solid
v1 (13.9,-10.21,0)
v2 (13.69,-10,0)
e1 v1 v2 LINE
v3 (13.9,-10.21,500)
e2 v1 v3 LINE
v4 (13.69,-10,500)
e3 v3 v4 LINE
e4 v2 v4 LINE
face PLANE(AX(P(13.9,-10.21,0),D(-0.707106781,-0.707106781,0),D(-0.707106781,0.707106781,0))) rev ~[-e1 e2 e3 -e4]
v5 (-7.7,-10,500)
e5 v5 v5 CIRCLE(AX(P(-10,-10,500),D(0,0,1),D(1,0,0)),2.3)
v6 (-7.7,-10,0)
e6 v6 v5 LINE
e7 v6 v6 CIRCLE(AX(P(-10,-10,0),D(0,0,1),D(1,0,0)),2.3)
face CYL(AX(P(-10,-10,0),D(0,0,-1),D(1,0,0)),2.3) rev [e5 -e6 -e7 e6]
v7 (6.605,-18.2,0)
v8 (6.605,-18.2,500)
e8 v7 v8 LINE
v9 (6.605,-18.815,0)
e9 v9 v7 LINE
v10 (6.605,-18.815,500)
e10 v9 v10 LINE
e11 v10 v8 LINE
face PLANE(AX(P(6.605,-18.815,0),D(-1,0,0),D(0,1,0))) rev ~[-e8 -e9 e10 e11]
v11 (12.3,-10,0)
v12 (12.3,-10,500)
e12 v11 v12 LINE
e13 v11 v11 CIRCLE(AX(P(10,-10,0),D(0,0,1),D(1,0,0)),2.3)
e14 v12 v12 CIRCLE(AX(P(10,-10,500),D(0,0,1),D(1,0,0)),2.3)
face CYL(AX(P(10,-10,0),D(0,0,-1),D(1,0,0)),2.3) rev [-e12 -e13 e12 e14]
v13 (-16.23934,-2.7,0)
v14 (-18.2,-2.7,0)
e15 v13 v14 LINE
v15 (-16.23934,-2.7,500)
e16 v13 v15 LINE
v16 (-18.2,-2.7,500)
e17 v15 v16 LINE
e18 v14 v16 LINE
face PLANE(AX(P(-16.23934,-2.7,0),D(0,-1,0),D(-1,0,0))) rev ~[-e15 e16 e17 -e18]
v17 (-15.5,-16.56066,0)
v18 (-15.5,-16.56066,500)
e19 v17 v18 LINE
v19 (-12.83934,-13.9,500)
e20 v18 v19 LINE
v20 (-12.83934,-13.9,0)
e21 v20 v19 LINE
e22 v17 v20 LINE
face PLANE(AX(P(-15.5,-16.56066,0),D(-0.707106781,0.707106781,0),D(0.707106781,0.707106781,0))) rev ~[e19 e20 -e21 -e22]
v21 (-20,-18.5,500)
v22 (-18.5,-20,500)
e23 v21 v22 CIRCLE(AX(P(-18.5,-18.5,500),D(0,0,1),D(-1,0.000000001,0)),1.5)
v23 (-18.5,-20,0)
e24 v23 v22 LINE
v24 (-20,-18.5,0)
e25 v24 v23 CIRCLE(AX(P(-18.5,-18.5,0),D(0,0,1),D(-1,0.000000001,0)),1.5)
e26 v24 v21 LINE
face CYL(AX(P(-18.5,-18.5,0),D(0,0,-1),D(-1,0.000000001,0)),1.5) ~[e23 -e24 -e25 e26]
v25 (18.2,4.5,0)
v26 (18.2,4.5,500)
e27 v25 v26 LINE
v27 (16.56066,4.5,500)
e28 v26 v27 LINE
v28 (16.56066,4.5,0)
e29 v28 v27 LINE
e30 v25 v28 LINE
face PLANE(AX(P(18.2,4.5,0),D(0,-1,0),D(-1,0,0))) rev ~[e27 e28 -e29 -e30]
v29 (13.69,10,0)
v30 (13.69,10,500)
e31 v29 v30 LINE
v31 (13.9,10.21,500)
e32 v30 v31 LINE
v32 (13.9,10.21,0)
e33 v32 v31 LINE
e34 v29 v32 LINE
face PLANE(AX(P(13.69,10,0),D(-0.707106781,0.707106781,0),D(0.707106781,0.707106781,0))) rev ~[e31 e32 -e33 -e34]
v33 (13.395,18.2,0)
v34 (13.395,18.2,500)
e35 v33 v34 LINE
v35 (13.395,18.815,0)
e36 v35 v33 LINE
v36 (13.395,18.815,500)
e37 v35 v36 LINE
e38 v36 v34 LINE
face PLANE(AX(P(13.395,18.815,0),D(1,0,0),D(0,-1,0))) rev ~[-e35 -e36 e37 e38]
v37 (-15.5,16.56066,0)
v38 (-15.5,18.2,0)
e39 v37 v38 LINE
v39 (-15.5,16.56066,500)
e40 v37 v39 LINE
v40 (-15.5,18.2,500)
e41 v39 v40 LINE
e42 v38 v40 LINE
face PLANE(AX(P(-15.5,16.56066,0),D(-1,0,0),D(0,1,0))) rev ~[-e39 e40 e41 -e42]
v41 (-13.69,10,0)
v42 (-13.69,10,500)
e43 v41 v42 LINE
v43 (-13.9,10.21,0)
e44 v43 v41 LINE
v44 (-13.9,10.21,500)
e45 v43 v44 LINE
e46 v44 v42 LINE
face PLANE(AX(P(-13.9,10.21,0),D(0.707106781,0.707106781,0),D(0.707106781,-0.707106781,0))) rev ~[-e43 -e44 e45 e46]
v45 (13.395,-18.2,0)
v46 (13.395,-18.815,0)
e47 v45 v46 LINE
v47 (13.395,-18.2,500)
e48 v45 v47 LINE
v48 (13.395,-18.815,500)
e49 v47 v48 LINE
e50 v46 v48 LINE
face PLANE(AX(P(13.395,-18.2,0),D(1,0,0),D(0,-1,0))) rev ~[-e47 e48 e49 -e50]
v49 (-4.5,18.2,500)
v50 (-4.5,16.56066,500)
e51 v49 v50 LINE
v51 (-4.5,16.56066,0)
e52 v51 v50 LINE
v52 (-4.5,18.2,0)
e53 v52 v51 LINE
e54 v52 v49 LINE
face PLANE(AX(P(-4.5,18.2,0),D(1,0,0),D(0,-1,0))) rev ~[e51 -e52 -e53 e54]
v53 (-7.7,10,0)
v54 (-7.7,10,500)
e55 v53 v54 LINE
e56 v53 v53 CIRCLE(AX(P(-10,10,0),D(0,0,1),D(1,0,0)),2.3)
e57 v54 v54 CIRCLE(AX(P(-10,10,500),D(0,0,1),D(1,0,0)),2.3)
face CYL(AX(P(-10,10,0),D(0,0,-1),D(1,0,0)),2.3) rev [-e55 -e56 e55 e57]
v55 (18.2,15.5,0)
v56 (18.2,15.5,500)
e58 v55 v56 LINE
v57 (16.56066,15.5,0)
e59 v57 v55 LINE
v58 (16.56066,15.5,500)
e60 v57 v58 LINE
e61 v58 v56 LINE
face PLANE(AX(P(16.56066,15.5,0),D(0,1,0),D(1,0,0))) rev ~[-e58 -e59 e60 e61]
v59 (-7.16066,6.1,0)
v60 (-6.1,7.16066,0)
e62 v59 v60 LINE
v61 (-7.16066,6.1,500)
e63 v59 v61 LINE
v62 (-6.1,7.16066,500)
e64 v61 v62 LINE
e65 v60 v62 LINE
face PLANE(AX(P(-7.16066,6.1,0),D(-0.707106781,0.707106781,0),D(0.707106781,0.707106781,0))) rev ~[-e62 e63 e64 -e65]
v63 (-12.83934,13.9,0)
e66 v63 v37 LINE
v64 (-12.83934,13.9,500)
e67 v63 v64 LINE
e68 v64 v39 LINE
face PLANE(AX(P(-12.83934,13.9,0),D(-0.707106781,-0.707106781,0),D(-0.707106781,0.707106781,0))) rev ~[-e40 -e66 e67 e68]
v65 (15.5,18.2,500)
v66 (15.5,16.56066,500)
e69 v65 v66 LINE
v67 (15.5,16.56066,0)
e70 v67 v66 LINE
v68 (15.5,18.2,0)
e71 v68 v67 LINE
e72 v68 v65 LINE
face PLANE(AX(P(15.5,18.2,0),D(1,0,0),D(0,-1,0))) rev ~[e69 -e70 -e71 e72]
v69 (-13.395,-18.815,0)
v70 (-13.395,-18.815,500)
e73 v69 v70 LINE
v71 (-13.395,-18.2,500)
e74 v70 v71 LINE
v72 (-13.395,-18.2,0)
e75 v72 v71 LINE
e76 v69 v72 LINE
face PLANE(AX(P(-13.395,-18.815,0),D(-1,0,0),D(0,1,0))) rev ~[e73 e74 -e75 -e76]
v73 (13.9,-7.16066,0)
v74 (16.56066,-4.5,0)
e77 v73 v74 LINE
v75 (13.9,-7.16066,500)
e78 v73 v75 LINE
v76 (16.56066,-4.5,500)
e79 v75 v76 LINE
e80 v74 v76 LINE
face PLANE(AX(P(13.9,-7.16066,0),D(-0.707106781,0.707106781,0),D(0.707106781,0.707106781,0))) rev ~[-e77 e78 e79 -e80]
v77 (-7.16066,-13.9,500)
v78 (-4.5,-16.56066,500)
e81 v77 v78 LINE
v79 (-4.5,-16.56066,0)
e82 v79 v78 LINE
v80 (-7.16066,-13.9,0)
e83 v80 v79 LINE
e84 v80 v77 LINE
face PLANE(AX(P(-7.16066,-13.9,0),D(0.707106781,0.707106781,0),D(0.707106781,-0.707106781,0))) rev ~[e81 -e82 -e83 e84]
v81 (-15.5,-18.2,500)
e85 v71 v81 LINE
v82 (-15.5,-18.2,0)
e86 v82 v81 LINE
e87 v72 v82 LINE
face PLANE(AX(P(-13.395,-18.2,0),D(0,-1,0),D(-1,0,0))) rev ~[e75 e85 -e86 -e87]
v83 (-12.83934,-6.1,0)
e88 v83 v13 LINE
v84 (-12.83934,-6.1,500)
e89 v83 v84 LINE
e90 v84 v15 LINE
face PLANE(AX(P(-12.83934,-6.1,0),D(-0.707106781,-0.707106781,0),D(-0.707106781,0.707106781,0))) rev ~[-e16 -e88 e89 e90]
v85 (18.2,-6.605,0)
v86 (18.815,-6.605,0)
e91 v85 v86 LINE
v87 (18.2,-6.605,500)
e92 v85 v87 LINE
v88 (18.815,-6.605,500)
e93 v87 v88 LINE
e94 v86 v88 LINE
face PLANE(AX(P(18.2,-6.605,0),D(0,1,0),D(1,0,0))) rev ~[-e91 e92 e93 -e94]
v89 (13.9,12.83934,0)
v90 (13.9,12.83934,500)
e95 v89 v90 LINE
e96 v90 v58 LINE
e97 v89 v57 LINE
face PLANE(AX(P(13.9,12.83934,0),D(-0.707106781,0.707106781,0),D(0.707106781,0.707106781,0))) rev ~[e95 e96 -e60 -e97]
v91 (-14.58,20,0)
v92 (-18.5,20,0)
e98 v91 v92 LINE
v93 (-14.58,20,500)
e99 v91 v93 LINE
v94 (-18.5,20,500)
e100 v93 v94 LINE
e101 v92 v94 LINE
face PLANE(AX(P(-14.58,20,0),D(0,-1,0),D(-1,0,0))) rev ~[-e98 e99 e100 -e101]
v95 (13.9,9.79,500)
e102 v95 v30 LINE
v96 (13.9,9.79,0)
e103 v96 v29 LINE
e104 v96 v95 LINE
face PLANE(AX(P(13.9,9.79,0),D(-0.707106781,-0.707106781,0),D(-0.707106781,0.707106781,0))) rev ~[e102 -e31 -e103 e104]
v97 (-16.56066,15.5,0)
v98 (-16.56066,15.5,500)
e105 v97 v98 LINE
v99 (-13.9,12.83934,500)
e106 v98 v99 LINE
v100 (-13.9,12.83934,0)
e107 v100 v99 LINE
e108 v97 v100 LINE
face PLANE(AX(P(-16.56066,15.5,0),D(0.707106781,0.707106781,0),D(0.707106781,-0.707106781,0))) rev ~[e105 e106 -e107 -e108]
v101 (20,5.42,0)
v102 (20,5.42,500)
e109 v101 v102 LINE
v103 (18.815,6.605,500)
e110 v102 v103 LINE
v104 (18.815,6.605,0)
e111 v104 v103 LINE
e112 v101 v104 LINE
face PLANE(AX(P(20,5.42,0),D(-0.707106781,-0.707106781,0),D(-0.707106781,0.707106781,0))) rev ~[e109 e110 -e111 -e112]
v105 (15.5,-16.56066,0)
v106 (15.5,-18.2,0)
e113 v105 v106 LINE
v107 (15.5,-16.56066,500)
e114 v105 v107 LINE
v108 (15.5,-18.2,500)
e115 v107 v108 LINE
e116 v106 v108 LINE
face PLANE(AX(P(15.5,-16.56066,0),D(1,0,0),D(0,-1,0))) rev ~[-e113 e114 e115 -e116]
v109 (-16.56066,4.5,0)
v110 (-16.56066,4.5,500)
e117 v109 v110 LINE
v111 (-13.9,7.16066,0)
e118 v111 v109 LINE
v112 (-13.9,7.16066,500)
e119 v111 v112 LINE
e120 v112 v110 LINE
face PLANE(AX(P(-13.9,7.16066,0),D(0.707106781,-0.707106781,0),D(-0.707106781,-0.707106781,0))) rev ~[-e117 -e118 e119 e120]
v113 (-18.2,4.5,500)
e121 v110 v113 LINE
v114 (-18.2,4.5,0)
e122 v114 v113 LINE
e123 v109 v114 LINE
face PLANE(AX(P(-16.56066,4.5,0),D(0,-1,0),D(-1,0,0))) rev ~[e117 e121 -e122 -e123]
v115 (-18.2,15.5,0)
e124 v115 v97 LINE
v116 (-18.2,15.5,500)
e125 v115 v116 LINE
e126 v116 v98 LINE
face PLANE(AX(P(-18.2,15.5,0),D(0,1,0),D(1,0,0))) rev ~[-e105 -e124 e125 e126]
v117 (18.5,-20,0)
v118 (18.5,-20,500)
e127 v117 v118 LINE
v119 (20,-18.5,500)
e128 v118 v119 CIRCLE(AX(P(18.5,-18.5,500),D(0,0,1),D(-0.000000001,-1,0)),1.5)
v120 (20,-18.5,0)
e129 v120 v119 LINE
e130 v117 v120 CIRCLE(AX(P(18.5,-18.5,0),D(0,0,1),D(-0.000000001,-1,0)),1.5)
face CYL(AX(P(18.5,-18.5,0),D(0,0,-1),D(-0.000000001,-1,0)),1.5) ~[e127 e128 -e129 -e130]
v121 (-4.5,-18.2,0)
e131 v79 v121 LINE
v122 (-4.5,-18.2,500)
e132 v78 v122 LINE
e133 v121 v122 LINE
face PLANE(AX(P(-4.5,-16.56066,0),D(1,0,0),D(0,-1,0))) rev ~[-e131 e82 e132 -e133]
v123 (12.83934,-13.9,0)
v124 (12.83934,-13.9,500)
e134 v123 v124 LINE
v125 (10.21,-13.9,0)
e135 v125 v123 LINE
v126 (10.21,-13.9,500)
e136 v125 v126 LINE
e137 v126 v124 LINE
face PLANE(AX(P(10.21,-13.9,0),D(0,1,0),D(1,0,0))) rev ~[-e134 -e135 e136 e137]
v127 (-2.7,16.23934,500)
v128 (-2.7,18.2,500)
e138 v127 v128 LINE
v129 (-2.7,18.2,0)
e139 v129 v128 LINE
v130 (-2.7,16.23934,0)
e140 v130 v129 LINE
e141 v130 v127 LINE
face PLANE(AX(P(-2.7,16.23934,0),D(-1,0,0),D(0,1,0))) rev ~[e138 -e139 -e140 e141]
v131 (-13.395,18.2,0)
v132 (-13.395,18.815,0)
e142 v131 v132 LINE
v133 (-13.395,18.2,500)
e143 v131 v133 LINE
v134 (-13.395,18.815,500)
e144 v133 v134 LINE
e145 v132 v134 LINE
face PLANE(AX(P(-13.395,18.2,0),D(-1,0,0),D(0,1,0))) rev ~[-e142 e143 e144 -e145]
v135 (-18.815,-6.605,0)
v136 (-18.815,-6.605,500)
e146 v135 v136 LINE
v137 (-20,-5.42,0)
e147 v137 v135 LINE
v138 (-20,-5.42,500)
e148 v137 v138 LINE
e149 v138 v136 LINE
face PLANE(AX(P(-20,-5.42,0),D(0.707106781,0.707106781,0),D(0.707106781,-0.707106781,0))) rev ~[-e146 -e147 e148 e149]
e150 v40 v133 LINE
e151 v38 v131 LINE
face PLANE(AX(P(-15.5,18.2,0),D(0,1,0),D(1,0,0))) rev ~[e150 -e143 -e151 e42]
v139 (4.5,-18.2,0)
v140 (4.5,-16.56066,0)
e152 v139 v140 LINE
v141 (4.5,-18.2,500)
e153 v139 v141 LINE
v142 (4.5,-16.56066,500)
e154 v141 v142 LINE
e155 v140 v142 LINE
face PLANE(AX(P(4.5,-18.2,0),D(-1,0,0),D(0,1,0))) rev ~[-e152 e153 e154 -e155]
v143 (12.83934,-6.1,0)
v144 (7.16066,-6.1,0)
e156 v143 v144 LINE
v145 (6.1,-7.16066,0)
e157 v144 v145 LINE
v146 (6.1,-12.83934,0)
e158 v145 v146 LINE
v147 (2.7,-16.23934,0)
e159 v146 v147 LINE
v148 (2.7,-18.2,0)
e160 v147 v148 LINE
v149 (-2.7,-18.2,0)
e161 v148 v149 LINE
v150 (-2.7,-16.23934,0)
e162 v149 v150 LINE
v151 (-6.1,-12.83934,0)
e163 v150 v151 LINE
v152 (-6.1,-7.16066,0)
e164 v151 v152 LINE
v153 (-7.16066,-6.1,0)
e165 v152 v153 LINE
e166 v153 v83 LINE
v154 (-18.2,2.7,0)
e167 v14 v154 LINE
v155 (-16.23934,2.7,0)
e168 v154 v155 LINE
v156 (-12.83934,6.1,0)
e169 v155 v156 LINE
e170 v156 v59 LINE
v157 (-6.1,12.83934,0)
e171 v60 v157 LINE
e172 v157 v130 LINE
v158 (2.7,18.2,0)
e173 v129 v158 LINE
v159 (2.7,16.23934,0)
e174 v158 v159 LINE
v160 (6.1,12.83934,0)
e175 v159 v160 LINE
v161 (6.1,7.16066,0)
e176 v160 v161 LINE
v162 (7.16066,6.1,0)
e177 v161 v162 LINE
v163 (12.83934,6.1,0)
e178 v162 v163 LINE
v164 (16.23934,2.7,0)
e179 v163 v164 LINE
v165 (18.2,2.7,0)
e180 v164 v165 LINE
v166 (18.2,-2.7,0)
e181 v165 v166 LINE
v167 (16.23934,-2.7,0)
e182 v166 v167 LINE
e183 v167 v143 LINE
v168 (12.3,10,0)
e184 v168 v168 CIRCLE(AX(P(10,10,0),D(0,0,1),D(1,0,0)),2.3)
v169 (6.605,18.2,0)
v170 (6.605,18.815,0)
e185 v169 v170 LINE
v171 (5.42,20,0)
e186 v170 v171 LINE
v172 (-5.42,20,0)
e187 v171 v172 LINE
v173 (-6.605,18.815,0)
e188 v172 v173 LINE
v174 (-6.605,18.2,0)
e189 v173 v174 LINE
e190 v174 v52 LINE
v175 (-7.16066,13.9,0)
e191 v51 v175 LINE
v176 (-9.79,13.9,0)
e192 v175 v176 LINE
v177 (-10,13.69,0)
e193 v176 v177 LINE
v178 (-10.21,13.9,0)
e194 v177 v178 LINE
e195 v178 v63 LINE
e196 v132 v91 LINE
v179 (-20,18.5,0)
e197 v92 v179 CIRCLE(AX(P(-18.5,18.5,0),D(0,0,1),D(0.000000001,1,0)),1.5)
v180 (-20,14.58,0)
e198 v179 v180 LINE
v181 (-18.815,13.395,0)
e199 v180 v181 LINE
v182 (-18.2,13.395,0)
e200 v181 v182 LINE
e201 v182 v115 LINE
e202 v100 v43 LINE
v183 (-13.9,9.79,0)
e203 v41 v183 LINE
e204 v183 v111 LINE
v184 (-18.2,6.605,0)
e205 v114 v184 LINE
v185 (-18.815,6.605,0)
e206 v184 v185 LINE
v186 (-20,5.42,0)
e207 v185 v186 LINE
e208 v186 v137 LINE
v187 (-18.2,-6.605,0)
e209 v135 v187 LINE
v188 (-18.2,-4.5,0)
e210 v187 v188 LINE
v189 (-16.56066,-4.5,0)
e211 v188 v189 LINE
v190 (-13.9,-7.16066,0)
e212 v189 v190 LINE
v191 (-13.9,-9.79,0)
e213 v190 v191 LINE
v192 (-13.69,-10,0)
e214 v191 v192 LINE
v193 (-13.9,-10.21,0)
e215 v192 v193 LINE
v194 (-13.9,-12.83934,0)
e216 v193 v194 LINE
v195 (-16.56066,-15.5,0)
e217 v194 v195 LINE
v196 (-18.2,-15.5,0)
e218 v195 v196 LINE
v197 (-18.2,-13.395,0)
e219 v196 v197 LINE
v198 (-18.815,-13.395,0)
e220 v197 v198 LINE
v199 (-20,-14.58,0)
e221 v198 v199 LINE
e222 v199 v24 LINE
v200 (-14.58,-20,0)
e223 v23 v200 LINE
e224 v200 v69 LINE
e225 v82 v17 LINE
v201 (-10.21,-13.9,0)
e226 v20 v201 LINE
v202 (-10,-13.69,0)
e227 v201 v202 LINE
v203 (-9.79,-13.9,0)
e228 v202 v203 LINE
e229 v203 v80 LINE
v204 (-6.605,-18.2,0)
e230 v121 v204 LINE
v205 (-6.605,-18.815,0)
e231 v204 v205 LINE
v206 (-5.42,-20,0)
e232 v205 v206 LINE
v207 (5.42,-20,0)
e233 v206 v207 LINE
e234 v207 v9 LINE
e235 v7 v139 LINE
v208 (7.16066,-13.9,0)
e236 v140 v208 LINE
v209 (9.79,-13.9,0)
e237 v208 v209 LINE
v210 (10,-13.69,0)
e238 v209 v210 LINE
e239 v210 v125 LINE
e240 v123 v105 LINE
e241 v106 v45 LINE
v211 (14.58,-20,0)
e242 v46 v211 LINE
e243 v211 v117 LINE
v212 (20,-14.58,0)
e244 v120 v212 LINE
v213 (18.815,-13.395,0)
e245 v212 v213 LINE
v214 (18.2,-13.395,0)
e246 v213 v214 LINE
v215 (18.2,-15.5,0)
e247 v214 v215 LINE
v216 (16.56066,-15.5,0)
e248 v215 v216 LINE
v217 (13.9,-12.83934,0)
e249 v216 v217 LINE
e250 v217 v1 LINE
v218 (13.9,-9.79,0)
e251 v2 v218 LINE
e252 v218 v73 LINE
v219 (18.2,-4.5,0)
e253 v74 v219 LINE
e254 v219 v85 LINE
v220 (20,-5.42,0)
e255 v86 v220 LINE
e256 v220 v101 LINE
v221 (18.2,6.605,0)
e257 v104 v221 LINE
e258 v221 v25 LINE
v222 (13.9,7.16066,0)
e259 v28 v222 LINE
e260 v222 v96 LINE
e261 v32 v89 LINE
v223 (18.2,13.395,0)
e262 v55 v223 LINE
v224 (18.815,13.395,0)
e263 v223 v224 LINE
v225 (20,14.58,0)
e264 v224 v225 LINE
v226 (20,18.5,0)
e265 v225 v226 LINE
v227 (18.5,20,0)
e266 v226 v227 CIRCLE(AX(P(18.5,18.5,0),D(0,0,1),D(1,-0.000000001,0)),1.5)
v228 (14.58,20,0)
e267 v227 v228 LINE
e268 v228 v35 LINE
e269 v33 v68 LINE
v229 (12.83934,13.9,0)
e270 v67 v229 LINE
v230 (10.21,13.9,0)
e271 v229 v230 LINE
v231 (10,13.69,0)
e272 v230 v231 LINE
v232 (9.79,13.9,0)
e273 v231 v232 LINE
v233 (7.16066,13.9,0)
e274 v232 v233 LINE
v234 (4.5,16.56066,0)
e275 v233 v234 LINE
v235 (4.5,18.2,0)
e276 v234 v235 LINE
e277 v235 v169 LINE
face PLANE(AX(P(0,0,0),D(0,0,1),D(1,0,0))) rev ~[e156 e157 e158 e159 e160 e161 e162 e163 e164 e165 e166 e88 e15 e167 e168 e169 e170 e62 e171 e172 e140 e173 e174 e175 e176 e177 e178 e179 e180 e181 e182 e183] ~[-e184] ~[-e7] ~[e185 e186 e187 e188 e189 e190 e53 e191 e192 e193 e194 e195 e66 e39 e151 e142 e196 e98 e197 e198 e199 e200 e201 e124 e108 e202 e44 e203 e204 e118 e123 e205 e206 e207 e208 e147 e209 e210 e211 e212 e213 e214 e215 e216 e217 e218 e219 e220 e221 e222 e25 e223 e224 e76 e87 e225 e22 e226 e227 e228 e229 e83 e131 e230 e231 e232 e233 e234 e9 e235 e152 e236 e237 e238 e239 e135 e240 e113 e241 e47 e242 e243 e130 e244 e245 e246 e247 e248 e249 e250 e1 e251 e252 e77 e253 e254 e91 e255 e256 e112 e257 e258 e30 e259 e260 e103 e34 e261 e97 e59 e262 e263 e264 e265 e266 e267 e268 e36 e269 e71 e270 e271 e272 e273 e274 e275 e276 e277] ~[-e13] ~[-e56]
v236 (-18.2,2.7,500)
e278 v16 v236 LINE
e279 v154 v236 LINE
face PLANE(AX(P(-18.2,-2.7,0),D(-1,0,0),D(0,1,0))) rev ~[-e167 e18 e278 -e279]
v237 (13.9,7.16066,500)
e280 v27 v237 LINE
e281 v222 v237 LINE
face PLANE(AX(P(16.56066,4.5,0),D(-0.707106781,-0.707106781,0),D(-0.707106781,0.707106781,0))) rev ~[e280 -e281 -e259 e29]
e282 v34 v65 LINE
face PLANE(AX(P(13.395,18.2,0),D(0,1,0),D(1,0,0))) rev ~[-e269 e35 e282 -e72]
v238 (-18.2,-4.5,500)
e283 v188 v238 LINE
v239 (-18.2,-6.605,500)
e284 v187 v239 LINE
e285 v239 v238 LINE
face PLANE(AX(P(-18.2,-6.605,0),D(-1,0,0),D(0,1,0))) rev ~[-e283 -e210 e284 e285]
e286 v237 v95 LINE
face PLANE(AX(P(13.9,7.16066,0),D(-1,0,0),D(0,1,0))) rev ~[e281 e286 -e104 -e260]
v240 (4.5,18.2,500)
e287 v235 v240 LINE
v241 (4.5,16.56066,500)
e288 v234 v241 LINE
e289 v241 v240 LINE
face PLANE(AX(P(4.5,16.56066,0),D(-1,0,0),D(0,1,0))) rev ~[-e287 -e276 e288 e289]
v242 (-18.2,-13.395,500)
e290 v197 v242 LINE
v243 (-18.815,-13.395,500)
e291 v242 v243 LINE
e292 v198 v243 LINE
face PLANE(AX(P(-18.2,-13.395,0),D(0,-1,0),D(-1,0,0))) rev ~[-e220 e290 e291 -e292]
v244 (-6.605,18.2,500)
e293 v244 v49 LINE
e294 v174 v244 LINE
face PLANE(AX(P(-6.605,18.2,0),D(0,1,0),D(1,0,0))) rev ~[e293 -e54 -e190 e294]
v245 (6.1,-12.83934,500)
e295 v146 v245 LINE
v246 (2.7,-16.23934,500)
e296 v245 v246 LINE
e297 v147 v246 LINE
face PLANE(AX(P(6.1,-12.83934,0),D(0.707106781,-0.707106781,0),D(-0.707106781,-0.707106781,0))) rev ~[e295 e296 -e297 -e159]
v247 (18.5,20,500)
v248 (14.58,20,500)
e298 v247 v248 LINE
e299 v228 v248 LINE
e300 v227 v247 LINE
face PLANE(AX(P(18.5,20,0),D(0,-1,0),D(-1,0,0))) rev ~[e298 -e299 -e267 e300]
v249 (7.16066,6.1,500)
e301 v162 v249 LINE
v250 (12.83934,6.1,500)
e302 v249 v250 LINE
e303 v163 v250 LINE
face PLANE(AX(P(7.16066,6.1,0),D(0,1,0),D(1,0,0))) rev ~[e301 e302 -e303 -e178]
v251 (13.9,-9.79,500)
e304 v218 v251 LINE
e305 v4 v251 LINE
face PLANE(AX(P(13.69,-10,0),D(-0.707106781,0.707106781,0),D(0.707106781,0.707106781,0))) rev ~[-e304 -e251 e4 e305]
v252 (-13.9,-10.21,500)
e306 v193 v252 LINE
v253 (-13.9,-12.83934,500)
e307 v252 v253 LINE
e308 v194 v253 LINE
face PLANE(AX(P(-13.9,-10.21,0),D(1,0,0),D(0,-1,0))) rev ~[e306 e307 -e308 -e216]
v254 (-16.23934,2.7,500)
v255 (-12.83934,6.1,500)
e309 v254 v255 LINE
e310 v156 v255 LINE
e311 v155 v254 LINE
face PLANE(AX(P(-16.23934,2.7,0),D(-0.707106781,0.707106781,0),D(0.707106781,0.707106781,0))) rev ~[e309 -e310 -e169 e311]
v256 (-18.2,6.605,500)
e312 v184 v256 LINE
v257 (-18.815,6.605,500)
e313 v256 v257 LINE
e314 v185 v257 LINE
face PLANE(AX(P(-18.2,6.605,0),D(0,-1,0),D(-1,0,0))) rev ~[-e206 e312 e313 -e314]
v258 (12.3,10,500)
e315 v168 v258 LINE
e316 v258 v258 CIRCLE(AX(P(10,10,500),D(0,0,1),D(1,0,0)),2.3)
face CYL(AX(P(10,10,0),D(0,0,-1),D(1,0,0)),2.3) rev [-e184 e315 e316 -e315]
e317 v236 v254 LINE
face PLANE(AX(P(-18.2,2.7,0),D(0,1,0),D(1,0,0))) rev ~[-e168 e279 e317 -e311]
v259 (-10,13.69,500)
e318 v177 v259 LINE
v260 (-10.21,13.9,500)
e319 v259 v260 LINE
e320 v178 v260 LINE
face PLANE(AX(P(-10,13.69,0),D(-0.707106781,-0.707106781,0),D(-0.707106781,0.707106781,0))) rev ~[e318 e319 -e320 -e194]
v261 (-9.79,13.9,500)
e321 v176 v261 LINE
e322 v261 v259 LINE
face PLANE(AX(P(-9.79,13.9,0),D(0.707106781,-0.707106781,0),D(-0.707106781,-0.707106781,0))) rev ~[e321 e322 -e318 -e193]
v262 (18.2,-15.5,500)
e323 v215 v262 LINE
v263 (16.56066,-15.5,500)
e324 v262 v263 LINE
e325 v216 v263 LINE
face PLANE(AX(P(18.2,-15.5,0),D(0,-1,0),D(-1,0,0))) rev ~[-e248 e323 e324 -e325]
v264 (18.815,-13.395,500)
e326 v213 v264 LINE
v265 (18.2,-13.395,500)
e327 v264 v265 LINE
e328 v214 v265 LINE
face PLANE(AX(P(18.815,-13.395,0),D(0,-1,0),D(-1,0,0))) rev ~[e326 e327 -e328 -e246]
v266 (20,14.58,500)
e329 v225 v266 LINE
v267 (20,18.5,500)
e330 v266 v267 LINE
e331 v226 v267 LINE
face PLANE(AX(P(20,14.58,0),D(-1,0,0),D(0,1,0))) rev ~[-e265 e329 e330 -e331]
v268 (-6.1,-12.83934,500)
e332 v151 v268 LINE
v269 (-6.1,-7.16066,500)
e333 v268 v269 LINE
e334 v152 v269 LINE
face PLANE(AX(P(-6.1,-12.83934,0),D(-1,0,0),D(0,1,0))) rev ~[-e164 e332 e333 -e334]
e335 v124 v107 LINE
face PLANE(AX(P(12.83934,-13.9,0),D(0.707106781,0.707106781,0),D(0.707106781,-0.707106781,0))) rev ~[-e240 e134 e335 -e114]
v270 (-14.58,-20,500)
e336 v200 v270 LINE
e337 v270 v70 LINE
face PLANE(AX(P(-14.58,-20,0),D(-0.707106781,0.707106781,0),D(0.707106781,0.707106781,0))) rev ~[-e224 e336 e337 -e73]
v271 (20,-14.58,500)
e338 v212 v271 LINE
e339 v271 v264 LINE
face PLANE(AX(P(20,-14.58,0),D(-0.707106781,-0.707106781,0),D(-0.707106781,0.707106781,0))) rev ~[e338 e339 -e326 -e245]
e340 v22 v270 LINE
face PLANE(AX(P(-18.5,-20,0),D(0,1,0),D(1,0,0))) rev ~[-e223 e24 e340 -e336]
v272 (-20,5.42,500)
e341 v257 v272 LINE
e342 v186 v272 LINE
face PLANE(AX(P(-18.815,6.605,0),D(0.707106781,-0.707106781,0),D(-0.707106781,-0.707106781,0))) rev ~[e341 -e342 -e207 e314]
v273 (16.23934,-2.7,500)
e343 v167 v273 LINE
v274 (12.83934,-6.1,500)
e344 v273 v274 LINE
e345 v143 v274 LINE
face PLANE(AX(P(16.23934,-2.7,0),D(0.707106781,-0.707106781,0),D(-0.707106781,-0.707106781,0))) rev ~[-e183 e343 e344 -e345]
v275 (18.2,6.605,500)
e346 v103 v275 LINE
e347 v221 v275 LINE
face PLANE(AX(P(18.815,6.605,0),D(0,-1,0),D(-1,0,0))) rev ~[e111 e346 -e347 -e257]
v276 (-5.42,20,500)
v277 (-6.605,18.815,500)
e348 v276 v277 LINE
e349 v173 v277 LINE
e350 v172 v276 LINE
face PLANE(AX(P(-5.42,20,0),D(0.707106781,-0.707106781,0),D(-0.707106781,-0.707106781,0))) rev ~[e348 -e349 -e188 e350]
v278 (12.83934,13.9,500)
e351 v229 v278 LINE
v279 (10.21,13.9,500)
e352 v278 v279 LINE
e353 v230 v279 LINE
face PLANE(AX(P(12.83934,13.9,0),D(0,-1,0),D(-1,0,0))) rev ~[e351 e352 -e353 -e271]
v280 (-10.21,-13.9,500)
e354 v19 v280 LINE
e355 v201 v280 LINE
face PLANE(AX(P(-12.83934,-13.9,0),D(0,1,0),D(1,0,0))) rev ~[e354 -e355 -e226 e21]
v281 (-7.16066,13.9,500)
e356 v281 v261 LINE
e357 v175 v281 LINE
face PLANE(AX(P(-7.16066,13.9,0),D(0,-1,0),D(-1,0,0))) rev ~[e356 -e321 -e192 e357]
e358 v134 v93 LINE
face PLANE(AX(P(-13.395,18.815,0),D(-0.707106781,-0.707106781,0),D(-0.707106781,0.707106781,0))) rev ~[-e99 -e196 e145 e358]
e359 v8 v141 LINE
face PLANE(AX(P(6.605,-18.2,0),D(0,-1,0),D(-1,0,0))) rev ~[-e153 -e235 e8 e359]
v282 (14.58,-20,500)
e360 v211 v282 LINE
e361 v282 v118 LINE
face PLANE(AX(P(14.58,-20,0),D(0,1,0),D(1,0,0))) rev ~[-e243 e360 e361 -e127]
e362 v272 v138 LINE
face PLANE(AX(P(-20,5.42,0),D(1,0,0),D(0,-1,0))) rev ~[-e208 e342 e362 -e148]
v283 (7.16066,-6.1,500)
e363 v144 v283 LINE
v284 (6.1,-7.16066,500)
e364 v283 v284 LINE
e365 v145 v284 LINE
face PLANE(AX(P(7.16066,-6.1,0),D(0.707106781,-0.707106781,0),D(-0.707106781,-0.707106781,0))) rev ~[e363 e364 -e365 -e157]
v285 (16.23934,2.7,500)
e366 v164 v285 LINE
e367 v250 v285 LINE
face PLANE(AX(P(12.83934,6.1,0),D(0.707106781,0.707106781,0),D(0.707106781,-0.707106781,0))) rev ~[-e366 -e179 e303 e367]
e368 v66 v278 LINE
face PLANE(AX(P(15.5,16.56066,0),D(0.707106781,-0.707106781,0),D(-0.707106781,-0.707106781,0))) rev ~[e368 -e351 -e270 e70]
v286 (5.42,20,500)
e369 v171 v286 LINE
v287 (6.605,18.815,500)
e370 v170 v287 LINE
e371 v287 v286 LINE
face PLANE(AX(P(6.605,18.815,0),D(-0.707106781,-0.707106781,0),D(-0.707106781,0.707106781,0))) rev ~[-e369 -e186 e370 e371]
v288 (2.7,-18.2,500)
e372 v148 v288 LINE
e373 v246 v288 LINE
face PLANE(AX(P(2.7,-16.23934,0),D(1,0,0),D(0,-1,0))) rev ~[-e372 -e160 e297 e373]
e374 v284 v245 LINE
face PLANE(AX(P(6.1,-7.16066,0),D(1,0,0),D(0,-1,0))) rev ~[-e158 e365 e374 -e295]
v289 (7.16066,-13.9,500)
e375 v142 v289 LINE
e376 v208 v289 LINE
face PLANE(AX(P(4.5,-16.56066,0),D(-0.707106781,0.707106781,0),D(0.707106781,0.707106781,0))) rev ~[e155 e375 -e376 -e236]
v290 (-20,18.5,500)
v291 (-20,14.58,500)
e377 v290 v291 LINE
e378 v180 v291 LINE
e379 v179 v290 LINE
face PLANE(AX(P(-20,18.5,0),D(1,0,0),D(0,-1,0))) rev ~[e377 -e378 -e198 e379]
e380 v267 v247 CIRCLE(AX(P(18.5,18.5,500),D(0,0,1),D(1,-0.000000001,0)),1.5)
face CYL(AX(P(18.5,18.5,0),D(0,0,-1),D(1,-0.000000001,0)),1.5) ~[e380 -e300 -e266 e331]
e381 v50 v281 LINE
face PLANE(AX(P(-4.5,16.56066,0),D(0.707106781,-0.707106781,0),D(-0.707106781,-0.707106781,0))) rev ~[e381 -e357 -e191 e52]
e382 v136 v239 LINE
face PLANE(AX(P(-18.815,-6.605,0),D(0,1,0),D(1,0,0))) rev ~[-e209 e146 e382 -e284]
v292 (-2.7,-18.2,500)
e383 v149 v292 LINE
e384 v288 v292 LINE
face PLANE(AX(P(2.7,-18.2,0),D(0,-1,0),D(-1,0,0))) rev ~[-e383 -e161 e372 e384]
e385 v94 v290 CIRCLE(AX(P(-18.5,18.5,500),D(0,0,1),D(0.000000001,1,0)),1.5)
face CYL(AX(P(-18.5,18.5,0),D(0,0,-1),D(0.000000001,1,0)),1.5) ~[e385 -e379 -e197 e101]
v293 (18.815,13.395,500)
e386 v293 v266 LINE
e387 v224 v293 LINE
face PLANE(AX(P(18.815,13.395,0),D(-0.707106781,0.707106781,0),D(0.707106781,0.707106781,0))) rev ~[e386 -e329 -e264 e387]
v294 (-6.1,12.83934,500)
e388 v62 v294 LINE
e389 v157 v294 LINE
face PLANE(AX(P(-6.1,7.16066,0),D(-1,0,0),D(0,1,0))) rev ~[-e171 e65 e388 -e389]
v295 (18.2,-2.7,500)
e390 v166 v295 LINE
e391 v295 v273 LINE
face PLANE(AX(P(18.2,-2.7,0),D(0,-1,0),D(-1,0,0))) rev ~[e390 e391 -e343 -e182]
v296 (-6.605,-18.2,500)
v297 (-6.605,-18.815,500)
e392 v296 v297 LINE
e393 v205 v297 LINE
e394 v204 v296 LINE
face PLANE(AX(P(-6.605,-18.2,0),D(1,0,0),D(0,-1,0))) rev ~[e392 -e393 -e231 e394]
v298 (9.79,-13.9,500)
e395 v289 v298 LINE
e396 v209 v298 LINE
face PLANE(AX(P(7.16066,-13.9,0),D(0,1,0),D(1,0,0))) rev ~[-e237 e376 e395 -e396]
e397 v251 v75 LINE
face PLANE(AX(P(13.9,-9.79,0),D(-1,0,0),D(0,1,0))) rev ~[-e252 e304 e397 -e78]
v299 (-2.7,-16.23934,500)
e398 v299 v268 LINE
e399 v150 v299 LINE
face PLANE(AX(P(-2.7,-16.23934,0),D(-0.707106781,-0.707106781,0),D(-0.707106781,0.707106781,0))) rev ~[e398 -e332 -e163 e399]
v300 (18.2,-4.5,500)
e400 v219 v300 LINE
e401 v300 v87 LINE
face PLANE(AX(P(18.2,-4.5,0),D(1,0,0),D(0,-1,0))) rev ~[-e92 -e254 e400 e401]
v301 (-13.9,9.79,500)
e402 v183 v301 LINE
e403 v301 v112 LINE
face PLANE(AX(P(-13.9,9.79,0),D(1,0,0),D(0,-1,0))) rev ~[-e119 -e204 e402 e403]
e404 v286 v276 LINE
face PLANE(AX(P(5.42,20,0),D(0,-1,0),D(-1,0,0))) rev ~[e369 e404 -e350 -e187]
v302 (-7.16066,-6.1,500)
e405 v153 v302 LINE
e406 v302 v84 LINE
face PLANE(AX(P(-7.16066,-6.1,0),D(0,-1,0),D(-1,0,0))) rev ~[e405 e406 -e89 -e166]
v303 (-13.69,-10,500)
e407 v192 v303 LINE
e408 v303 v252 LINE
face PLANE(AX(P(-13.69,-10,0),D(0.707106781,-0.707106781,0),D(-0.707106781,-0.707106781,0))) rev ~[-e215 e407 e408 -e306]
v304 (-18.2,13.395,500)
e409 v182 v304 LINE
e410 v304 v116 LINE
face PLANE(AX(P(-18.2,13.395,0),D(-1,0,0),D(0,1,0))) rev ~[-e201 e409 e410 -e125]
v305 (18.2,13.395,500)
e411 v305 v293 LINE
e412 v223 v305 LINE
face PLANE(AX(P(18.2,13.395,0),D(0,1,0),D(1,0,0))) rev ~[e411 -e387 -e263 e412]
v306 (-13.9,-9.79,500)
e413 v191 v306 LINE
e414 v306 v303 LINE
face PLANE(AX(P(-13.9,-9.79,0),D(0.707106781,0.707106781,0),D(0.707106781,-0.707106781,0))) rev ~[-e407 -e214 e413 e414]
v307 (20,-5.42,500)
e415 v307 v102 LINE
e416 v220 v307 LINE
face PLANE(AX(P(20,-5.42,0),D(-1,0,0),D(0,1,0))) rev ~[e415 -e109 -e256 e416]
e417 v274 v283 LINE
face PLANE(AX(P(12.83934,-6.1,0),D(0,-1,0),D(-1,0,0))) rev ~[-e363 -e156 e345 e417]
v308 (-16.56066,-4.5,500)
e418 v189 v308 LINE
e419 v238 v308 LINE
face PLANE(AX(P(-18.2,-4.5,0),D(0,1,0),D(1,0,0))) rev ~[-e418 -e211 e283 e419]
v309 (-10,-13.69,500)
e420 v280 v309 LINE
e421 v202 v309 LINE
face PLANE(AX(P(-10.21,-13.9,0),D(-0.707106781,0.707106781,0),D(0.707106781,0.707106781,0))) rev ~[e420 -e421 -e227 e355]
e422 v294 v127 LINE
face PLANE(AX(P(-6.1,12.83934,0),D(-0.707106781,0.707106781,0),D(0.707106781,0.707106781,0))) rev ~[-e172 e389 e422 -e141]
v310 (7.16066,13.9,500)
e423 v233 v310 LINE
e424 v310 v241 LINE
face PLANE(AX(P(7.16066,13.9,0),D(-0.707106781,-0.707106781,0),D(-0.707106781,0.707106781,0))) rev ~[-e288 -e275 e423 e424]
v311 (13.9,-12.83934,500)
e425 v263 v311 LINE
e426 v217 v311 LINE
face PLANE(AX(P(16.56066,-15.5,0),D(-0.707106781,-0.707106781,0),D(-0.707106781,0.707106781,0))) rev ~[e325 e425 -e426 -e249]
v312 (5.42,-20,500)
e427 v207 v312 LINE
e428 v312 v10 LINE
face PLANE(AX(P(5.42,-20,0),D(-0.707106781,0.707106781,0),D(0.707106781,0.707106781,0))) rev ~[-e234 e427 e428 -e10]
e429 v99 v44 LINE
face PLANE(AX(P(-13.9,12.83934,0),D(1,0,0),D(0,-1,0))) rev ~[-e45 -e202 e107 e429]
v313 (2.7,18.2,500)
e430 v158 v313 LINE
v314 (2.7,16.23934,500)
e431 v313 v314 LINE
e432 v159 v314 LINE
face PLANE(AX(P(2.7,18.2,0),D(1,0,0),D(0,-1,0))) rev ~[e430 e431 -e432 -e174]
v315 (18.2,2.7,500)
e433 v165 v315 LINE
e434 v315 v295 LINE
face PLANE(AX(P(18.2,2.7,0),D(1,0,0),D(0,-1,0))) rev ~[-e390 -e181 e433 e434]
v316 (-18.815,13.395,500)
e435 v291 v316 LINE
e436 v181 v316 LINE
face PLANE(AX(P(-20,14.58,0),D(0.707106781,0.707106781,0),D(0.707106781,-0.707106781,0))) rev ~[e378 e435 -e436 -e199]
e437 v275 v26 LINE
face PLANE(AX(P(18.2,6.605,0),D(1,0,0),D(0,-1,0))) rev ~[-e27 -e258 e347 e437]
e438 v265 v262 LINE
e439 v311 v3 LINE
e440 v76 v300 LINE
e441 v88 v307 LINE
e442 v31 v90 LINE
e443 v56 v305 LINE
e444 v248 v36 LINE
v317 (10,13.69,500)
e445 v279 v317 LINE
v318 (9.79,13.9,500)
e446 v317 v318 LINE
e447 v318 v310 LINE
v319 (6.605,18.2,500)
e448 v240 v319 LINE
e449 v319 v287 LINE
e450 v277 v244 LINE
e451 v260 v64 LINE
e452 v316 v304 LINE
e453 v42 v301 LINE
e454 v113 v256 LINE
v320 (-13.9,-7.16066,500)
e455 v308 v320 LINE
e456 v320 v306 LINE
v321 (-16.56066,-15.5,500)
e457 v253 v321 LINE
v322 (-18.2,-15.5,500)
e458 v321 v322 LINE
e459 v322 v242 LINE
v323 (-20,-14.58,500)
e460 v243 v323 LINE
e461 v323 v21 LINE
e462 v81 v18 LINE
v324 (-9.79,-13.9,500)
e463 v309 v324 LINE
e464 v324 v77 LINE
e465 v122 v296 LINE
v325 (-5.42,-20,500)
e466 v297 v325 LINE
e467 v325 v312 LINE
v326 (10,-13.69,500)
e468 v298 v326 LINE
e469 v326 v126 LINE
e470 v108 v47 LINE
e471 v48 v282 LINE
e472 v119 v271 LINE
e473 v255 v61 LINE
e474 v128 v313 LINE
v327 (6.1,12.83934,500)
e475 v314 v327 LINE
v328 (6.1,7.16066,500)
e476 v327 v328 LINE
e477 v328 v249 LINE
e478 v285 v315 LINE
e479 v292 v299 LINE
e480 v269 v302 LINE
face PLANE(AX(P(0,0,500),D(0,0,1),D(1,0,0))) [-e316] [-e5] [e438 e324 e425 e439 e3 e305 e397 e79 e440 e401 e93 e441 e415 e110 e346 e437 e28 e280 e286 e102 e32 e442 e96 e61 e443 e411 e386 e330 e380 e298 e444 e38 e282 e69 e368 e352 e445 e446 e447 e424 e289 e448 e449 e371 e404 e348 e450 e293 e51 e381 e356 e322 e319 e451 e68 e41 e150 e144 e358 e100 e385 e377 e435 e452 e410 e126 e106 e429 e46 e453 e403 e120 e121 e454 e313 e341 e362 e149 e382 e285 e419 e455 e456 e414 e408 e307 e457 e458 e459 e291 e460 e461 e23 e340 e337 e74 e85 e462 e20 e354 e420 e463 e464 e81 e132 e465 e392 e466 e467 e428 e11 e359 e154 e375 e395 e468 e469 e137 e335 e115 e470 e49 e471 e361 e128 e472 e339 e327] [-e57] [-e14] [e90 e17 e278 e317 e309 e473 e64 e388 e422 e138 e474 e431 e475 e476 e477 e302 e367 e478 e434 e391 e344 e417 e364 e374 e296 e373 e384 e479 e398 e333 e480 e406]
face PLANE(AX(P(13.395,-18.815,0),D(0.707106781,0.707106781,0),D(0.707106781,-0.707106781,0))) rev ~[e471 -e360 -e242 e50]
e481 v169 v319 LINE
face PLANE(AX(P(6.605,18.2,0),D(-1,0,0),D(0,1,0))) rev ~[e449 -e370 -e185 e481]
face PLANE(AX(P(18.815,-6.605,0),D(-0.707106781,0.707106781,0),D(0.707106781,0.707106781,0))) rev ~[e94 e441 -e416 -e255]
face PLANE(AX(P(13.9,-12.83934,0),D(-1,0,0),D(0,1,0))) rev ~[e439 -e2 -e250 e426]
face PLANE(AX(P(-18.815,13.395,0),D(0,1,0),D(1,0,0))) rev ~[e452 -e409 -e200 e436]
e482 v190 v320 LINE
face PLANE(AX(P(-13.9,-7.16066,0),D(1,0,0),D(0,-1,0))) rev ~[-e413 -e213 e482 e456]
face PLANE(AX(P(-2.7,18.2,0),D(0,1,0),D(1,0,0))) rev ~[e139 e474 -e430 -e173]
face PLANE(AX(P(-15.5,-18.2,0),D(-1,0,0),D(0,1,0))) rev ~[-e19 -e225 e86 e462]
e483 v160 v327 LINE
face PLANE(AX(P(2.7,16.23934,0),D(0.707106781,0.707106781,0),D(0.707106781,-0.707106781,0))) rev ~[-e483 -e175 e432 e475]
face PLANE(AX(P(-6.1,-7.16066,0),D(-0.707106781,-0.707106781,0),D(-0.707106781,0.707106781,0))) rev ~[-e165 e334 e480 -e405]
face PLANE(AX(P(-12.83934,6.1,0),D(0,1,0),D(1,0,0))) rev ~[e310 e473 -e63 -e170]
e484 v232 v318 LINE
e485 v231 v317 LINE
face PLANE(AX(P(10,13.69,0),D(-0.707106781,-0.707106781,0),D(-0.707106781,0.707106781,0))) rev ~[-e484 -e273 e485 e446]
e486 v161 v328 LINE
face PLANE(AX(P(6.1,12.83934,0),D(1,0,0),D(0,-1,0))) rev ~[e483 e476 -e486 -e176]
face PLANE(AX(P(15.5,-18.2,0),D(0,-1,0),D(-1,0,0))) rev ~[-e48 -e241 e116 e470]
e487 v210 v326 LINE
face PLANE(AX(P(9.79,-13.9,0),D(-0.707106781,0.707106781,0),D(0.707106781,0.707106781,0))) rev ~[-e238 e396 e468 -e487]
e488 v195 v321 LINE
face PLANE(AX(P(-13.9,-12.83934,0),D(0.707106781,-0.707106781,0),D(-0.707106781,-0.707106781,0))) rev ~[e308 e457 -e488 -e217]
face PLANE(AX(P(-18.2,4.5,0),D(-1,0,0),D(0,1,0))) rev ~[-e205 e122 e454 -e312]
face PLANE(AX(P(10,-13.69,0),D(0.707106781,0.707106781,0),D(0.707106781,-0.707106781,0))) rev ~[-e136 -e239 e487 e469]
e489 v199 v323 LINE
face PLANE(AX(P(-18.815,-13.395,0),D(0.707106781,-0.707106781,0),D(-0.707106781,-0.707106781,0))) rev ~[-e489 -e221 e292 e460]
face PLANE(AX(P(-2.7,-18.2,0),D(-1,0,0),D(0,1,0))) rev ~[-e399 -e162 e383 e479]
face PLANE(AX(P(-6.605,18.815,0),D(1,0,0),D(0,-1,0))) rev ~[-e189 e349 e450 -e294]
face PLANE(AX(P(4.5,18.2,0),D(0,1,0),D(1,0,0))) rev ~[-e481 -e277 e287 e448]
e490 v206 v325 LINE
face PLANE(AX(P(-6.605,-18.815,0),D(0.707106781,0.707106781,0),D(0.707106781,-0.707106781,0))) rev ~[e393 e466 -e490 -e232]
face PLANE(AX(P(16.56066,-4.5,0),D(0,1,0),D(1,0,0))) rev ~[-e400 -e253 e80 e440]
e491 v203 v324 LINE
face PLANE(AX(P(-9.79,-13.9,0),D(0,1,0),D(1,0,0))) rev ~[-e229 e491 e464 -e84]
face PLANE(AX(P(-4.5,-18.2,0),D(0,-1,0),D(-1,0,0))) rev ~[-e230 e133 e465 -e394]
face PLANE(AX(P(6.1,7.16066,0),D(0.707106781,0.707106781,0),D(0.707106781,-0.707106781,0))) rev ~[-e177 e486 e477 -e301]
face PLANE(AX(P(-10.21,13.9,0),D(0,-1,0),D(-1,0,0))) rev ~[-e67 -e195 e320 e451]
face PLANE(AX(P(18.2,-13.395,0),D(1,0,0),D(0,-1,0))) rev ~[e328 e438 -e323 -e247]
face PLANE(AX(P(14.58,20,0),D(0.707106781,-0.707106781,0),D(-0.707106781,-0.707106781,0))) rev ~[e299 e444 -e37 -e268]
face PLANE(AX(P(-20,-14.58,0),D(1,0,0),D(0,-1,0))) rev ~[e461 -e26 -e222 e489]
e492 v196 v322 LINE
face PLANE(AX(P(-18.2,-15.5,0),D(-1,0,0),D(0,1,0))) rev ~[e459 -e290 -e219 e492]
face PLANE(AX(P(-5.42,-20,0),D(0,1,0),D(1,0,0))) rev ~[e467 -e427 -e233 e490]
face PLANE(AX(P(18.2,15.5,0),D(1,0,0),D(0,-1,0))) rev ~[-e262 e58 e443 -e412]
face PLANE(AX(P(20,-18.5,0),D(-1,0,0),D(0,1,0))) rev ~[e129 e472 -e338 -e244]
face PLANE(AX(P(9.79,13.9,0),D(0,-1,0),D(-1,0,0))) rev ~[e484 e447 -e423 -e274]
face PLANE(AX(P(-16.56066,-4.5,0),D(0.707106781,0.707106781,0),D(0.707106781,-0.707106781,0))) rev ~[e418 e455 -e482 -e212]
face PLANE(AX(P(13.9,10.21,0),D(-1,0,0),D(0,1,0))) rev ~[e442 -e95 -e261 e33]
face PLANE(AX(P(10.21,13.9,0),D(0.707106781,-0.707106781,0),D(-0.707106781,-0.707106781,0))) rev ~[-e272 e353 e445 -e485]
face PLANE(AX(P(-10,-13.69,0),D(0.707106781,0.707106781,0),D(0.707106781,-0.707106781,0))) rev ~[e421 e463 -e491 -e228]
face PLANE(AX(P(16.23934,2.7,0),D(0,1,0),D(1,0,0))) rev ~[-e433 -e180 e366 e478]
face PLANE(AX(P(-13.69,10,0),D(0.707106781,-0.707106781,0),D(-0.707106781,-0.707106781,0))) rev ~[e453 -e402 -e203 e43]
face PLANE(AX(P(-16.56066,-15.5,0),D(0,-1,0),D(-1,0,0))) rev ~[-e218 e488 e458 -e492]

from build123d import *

# Parameters (mm, degrees)
SKETCH1_R           = 2.3
BOSS_EXTRUDE1_DEPTH = 500


with BuildPart() as part:
    # Sketch1 → Boss-Extrude1 (new body)
    with BuildSketch(Plane.XY):
        with BuildLine():
            Line((14.58, -20), (18.5, -20))
            ThreePointArc((18.5, -20), (19.560660172, -19.560660172), (20, -18.5))
            Line((20, -18.5), (20, -14.58))
            Line((20, -14.58), (18.815, -13.395))
            Line((18.815, -13.395), (18.2, -13.395))
            Line((18.2, -13.395), (18.2, -15.5))
            Line((18.2, -15.5), (16.560660172, -15.5))
            Line((16.560660172, -15.5), (13.9, -12.839339828))
            Line((13.9, -12.839339828), (13.9, -10.21))
            Line((13.9, -10.21), (13.69, -10))
            Line((13.69, -10), (13.9, -9.79))
            Line((13.9, -9.79), (13.9, -7.160660172))
            Line((13.9, -7.160660172), (16.560660172, -4.5))
            Line((16.560660172, -4.5), (18.2, -4.5))
            Line((18.2, -4.5), (18.2, -6.605))
            Line((18.2, -6.605), (18.815, -6.605))
            Line((18.815, -6.605), (20, -5.42))
            Line((20, -5.42), (20, 5.42))
            Line((20, 5.42), (18.815, 6.605))
            Line((18.815, 6.605), (18.2, 6.605))
            Line((18.2, 6.605), (18.2, 4.5))
            Line((18.2, 4.5), (16.560660172, 4.5))
            Line((16.560660172, 4.5), (13.9, 7.160660172))
            Line((13.9, 7.160660172), (13.9, 9.79))
            Line((13.9, 9.79), (13.69, 10))
            Line((13.69, 10), (13.9, 10.21))
            Line((13.9, 10.21), (13.9, 12.839339828))
            Line((13.9, 12.839339828), (16.560660172, 15.5))
            Line((16.560660172, 15.5), (18.2, 15.5))
            Line((18.2, 15.5), (18.2, 13.395))
            Line((18.2, 13.395), (18.815, 13.395))
            Line((18.815, 13.395), (20, 14.58))
            Line((20, 14.58), (20, 18.5))
            ThreePointArc((20, 18.5), (19.560660172, 19.560660172), (18.5, 20))
            Line((18.5, 20), (14.58, 20))
            Line((14.58, 20), (13.395, 18.815))
            Line((13.395, 18.815), (13.395, 18.2))
            Line((13.395, 18.2), (15.5, 18.2))
            Line((15.5, 18.2), (15.5, 16.560660172))
            Line((15.5, 16.560660172), (12.839339828, 13.9))
            Line((12.839339828, 13.9), (10.21, 13.9))
            Line((10.21, 13.9), (10, 13.69))
            Line((10, 13.69), (9.79, 13.9))
            Line((9.79, 13.9), (7.160660172, 13.9))
            Line((7.160660172, 13.9), (4.5, 16.560660172))
            Line((4.5, 16.560660172), (4.5, 18.2))
            Line((4.5, 18.2), (6.605, 18.2))
            Line((6.605, 18.2), (6.605, 18.815))
            Line((6.605, 18.815), (5.42, 20))
            Line((5.42, 20), (-5.42, 20))
            Line((-5.42, 20), (-6.605, 18.815))
            Line((-6.605, 18.815), (-6.605, 18.2))
            Line((-6.605, 18.2), (-4.5, 18.2))
            Line((-4.5, 18.2), (-4.5, 16.560660172))
            Line((-4.5, 16.560660172), (-7.160660172, 13.9))
            Line((-7.160660172, 13.9), (-9.79, 13.9))
            Line((-9.79, 13.9), (-10, 13.69))
            Line((-10, 13.69), (-10.21, 13.9))
            Line((-10.21, 13.9), (-12.839339828, 13.9))
            Line((-12.839339828, 13.9), (-15.5, 16.560660172))
            Line((-15.5, 16.560660172), (-15.5, 18.2))
            Line((-15.5, 18.2), (-13.395, 18.2))
            Line((-13.395, 18.2), (-13.395, 18.815))
            Line((-13.395, 18.815), (-14.58, 20))
            Line((-14.58, 20), (-18.5, 20))
            ThreePointArc((-18.5, 20), (-19.560660172, 19.560660172), (-20, 18.5))
            Line((-20, 18.5), (-20, 14.58))
            Line((-20, 14.58), (-18.815, 13.395))
            Line((-18.815, 13.395), (-18.2, 13.395))
            Line((-18.2, 13.395), (-18.2, 15.5))
            Line((-18.2, 15.5), (-16.560660172, 15.5))
            Line((-16.560660172, 15.5), (-13.9, 12.839339828))
            Line((-13.9, 12.839339828), (-13.9, 10.21))
            Line((-13.9, 10.21), (-13.69, 10))
            Line((-13.69, 10), (-13.9, 9.79))
            Line((-13.9, 9.79), (-13.9, 7.160660172))
            Line((-13.9, 7.160660172), (-16.560660172, 4.5))
            Line((-16.560660172, 4.5), (-18.2, 4.5))
            Line((-18.2, 4.5), (-18.2, 6.605))
            Line((-18.2, 6.605), (-18.815, 6.605))
            Line((-18.815, 6.605), (-20, 5.42))
            Line((-20, 5.42), (-20, -5.42))
            Line((-20, -5.42), (-18.815, -6.605))
            Line((-18.815, -6.605), (-18.2, -6.605))
            Line((-18.2, -6.605), (-18.2, -4.5))
            Line((-18.2, -4.5), (-16.560660172, -4.5))
            Line((-16.560660172, -4.5), (-13.9, -7.160660172))
            Line((-13.9, -7.160660172), (-13.9, -9.79))
            Line((-13.9, -9.79), (-13.69, -10))
            Line((-13.69, -10), (-13.9, -10.21))
            Line((-13.9, -10.21), (-13.9, -12.839339828))
            Line((-13.9, -12.839339828), (-16.560660172, -15.5))
            Line((-16.560660172, -15.5), (-18.2, -15.5))
            Line((-18.2, -15.5), (-18.2, -13.395))
            Line((-18.2, -13.395), (-18.815, -13.395))
            Line((-18.815, -13.395), (-20, -14.58))
            Line((-20, -14.58), (-20, -18.5))
            ThreePointArc((-20, -18.5), (-19.560660172, -19.560660172), (-18.5, -20))
            Line((-18.5, -20), (-14.58, -20))
            Line((-14.58, -20), (-13.395, -18.815))
            Line((-13.395, -18.815), (-13.395, -18.2))
            Line((-13.395, -18.2), (-15.5, -18.2))
            Line((-15.5, -18.2), (-15.5, -16.560660172))
            Line((-15.5, -16.560660172), (-12.839339828, -13.9))
            Line((-12.839339828, -13.9), (-10.21, -13.9))
            Line((-10.21, -13.9), (-10, -13.69))
            Line((-10, -13.69), (-9.79, -13.9))
            Line((-9.79, -13.9), (-7.160660172, -13.9))
            Line((-7.160660172, -13.9), (-4.5, -16.560660172))
            Line((-4.5, -16.560660172), (-4.5, -18.2))
            Line((-4.5, -18.2), (-6.605, -18.2))
            Line((-6.605, -18.2), (-6.605, -18.815))
            Line((-6.605, -18.815), (-5.42, -20))
            Line((-5.42, -20), (5.42, -20))
            Line((5.42, -20), (6.605, -18.815))
            Line((6.605, -18.815), (6.605, -18.2))
            Line((6.605, -18.2), (4.5, -18.2))
            Line((4.5, -18.2), (4.5, -16.560660172))
            Line((4.5, -16.560660172), (7.160660172, -13.9))
            Line((7.160660172, -13.9), (9.79, -13.9))
            Line((9.79, -13.9), (10, -13.69))
            Line((10, -13.69), (10.21, -13.9))
            Line((10.21, -13.9), (12.839339828, -13.9))
            Line((12.839339828, -13.9), (15.5, -16.560660172))
            Line((15.5, -16.560660172), (15.5, -18.2))
            Line((15.5, -18.2), (13.395, -18.2))
            Line((13.395, -18.2), (13.395, -18.815))
            Line((13.395, -18.815), (14.58, -20))
        make_face()
        with Locations((-10, -10)):
            Circle(SKETCH1_R, mode=Mode.SUBTRACT)
        with Locations((10, -10)):
            Circle(SKETCH1_R, mode=Mode.SUBTRACT)
        Polygon((-16.239339828, -2.7), (-18.2, -2.7), (-18.2, 2.7), (-16.239339828, 2.7), (-12.839339828, 6.1), (-7.160660172, 6.1), (-6.1, 7.160660172), (-6.1, 12.839339828), (-2.7, 16.239339828), (-2.7, 18.2), (2.7, 18.2), (2.7, 16.239339828), (6.1, 12.839339828), (6.1, 7.160660172), (7.160660172, 6.1), (12.839339828, 6.1), (16.239339828, 2.7), (18.2, 2.7), (18.2, -2.7), (16.239339828, -2.7), (12.839339828, -6.1), (7.160660172, -6.1), (6.1, -7.160660172), (6.1, -12.839339828), (2.7, -16.239339828), (2.7, -18.2), (-2.7, -18.2), (-2.7, -16.239339828), (-6.1, -12.839339828), (-6.1, -7.160660172), (-7.160660172, -6.1), (-12.839339828, -6.1), align=None, mode=Mode.SUBTRACT)
        with Locations((-10, 10)):
            Circle(SKETCH1_R, mode=Mode.SUBTRACT)
        with Locations((10, 10)):
            Circle(SKETCH1_R, mode=Mode.SUBTRACT)
    extrude(amount=BOSS_EXTRUDE1_DEPTH)


solid = part.part
